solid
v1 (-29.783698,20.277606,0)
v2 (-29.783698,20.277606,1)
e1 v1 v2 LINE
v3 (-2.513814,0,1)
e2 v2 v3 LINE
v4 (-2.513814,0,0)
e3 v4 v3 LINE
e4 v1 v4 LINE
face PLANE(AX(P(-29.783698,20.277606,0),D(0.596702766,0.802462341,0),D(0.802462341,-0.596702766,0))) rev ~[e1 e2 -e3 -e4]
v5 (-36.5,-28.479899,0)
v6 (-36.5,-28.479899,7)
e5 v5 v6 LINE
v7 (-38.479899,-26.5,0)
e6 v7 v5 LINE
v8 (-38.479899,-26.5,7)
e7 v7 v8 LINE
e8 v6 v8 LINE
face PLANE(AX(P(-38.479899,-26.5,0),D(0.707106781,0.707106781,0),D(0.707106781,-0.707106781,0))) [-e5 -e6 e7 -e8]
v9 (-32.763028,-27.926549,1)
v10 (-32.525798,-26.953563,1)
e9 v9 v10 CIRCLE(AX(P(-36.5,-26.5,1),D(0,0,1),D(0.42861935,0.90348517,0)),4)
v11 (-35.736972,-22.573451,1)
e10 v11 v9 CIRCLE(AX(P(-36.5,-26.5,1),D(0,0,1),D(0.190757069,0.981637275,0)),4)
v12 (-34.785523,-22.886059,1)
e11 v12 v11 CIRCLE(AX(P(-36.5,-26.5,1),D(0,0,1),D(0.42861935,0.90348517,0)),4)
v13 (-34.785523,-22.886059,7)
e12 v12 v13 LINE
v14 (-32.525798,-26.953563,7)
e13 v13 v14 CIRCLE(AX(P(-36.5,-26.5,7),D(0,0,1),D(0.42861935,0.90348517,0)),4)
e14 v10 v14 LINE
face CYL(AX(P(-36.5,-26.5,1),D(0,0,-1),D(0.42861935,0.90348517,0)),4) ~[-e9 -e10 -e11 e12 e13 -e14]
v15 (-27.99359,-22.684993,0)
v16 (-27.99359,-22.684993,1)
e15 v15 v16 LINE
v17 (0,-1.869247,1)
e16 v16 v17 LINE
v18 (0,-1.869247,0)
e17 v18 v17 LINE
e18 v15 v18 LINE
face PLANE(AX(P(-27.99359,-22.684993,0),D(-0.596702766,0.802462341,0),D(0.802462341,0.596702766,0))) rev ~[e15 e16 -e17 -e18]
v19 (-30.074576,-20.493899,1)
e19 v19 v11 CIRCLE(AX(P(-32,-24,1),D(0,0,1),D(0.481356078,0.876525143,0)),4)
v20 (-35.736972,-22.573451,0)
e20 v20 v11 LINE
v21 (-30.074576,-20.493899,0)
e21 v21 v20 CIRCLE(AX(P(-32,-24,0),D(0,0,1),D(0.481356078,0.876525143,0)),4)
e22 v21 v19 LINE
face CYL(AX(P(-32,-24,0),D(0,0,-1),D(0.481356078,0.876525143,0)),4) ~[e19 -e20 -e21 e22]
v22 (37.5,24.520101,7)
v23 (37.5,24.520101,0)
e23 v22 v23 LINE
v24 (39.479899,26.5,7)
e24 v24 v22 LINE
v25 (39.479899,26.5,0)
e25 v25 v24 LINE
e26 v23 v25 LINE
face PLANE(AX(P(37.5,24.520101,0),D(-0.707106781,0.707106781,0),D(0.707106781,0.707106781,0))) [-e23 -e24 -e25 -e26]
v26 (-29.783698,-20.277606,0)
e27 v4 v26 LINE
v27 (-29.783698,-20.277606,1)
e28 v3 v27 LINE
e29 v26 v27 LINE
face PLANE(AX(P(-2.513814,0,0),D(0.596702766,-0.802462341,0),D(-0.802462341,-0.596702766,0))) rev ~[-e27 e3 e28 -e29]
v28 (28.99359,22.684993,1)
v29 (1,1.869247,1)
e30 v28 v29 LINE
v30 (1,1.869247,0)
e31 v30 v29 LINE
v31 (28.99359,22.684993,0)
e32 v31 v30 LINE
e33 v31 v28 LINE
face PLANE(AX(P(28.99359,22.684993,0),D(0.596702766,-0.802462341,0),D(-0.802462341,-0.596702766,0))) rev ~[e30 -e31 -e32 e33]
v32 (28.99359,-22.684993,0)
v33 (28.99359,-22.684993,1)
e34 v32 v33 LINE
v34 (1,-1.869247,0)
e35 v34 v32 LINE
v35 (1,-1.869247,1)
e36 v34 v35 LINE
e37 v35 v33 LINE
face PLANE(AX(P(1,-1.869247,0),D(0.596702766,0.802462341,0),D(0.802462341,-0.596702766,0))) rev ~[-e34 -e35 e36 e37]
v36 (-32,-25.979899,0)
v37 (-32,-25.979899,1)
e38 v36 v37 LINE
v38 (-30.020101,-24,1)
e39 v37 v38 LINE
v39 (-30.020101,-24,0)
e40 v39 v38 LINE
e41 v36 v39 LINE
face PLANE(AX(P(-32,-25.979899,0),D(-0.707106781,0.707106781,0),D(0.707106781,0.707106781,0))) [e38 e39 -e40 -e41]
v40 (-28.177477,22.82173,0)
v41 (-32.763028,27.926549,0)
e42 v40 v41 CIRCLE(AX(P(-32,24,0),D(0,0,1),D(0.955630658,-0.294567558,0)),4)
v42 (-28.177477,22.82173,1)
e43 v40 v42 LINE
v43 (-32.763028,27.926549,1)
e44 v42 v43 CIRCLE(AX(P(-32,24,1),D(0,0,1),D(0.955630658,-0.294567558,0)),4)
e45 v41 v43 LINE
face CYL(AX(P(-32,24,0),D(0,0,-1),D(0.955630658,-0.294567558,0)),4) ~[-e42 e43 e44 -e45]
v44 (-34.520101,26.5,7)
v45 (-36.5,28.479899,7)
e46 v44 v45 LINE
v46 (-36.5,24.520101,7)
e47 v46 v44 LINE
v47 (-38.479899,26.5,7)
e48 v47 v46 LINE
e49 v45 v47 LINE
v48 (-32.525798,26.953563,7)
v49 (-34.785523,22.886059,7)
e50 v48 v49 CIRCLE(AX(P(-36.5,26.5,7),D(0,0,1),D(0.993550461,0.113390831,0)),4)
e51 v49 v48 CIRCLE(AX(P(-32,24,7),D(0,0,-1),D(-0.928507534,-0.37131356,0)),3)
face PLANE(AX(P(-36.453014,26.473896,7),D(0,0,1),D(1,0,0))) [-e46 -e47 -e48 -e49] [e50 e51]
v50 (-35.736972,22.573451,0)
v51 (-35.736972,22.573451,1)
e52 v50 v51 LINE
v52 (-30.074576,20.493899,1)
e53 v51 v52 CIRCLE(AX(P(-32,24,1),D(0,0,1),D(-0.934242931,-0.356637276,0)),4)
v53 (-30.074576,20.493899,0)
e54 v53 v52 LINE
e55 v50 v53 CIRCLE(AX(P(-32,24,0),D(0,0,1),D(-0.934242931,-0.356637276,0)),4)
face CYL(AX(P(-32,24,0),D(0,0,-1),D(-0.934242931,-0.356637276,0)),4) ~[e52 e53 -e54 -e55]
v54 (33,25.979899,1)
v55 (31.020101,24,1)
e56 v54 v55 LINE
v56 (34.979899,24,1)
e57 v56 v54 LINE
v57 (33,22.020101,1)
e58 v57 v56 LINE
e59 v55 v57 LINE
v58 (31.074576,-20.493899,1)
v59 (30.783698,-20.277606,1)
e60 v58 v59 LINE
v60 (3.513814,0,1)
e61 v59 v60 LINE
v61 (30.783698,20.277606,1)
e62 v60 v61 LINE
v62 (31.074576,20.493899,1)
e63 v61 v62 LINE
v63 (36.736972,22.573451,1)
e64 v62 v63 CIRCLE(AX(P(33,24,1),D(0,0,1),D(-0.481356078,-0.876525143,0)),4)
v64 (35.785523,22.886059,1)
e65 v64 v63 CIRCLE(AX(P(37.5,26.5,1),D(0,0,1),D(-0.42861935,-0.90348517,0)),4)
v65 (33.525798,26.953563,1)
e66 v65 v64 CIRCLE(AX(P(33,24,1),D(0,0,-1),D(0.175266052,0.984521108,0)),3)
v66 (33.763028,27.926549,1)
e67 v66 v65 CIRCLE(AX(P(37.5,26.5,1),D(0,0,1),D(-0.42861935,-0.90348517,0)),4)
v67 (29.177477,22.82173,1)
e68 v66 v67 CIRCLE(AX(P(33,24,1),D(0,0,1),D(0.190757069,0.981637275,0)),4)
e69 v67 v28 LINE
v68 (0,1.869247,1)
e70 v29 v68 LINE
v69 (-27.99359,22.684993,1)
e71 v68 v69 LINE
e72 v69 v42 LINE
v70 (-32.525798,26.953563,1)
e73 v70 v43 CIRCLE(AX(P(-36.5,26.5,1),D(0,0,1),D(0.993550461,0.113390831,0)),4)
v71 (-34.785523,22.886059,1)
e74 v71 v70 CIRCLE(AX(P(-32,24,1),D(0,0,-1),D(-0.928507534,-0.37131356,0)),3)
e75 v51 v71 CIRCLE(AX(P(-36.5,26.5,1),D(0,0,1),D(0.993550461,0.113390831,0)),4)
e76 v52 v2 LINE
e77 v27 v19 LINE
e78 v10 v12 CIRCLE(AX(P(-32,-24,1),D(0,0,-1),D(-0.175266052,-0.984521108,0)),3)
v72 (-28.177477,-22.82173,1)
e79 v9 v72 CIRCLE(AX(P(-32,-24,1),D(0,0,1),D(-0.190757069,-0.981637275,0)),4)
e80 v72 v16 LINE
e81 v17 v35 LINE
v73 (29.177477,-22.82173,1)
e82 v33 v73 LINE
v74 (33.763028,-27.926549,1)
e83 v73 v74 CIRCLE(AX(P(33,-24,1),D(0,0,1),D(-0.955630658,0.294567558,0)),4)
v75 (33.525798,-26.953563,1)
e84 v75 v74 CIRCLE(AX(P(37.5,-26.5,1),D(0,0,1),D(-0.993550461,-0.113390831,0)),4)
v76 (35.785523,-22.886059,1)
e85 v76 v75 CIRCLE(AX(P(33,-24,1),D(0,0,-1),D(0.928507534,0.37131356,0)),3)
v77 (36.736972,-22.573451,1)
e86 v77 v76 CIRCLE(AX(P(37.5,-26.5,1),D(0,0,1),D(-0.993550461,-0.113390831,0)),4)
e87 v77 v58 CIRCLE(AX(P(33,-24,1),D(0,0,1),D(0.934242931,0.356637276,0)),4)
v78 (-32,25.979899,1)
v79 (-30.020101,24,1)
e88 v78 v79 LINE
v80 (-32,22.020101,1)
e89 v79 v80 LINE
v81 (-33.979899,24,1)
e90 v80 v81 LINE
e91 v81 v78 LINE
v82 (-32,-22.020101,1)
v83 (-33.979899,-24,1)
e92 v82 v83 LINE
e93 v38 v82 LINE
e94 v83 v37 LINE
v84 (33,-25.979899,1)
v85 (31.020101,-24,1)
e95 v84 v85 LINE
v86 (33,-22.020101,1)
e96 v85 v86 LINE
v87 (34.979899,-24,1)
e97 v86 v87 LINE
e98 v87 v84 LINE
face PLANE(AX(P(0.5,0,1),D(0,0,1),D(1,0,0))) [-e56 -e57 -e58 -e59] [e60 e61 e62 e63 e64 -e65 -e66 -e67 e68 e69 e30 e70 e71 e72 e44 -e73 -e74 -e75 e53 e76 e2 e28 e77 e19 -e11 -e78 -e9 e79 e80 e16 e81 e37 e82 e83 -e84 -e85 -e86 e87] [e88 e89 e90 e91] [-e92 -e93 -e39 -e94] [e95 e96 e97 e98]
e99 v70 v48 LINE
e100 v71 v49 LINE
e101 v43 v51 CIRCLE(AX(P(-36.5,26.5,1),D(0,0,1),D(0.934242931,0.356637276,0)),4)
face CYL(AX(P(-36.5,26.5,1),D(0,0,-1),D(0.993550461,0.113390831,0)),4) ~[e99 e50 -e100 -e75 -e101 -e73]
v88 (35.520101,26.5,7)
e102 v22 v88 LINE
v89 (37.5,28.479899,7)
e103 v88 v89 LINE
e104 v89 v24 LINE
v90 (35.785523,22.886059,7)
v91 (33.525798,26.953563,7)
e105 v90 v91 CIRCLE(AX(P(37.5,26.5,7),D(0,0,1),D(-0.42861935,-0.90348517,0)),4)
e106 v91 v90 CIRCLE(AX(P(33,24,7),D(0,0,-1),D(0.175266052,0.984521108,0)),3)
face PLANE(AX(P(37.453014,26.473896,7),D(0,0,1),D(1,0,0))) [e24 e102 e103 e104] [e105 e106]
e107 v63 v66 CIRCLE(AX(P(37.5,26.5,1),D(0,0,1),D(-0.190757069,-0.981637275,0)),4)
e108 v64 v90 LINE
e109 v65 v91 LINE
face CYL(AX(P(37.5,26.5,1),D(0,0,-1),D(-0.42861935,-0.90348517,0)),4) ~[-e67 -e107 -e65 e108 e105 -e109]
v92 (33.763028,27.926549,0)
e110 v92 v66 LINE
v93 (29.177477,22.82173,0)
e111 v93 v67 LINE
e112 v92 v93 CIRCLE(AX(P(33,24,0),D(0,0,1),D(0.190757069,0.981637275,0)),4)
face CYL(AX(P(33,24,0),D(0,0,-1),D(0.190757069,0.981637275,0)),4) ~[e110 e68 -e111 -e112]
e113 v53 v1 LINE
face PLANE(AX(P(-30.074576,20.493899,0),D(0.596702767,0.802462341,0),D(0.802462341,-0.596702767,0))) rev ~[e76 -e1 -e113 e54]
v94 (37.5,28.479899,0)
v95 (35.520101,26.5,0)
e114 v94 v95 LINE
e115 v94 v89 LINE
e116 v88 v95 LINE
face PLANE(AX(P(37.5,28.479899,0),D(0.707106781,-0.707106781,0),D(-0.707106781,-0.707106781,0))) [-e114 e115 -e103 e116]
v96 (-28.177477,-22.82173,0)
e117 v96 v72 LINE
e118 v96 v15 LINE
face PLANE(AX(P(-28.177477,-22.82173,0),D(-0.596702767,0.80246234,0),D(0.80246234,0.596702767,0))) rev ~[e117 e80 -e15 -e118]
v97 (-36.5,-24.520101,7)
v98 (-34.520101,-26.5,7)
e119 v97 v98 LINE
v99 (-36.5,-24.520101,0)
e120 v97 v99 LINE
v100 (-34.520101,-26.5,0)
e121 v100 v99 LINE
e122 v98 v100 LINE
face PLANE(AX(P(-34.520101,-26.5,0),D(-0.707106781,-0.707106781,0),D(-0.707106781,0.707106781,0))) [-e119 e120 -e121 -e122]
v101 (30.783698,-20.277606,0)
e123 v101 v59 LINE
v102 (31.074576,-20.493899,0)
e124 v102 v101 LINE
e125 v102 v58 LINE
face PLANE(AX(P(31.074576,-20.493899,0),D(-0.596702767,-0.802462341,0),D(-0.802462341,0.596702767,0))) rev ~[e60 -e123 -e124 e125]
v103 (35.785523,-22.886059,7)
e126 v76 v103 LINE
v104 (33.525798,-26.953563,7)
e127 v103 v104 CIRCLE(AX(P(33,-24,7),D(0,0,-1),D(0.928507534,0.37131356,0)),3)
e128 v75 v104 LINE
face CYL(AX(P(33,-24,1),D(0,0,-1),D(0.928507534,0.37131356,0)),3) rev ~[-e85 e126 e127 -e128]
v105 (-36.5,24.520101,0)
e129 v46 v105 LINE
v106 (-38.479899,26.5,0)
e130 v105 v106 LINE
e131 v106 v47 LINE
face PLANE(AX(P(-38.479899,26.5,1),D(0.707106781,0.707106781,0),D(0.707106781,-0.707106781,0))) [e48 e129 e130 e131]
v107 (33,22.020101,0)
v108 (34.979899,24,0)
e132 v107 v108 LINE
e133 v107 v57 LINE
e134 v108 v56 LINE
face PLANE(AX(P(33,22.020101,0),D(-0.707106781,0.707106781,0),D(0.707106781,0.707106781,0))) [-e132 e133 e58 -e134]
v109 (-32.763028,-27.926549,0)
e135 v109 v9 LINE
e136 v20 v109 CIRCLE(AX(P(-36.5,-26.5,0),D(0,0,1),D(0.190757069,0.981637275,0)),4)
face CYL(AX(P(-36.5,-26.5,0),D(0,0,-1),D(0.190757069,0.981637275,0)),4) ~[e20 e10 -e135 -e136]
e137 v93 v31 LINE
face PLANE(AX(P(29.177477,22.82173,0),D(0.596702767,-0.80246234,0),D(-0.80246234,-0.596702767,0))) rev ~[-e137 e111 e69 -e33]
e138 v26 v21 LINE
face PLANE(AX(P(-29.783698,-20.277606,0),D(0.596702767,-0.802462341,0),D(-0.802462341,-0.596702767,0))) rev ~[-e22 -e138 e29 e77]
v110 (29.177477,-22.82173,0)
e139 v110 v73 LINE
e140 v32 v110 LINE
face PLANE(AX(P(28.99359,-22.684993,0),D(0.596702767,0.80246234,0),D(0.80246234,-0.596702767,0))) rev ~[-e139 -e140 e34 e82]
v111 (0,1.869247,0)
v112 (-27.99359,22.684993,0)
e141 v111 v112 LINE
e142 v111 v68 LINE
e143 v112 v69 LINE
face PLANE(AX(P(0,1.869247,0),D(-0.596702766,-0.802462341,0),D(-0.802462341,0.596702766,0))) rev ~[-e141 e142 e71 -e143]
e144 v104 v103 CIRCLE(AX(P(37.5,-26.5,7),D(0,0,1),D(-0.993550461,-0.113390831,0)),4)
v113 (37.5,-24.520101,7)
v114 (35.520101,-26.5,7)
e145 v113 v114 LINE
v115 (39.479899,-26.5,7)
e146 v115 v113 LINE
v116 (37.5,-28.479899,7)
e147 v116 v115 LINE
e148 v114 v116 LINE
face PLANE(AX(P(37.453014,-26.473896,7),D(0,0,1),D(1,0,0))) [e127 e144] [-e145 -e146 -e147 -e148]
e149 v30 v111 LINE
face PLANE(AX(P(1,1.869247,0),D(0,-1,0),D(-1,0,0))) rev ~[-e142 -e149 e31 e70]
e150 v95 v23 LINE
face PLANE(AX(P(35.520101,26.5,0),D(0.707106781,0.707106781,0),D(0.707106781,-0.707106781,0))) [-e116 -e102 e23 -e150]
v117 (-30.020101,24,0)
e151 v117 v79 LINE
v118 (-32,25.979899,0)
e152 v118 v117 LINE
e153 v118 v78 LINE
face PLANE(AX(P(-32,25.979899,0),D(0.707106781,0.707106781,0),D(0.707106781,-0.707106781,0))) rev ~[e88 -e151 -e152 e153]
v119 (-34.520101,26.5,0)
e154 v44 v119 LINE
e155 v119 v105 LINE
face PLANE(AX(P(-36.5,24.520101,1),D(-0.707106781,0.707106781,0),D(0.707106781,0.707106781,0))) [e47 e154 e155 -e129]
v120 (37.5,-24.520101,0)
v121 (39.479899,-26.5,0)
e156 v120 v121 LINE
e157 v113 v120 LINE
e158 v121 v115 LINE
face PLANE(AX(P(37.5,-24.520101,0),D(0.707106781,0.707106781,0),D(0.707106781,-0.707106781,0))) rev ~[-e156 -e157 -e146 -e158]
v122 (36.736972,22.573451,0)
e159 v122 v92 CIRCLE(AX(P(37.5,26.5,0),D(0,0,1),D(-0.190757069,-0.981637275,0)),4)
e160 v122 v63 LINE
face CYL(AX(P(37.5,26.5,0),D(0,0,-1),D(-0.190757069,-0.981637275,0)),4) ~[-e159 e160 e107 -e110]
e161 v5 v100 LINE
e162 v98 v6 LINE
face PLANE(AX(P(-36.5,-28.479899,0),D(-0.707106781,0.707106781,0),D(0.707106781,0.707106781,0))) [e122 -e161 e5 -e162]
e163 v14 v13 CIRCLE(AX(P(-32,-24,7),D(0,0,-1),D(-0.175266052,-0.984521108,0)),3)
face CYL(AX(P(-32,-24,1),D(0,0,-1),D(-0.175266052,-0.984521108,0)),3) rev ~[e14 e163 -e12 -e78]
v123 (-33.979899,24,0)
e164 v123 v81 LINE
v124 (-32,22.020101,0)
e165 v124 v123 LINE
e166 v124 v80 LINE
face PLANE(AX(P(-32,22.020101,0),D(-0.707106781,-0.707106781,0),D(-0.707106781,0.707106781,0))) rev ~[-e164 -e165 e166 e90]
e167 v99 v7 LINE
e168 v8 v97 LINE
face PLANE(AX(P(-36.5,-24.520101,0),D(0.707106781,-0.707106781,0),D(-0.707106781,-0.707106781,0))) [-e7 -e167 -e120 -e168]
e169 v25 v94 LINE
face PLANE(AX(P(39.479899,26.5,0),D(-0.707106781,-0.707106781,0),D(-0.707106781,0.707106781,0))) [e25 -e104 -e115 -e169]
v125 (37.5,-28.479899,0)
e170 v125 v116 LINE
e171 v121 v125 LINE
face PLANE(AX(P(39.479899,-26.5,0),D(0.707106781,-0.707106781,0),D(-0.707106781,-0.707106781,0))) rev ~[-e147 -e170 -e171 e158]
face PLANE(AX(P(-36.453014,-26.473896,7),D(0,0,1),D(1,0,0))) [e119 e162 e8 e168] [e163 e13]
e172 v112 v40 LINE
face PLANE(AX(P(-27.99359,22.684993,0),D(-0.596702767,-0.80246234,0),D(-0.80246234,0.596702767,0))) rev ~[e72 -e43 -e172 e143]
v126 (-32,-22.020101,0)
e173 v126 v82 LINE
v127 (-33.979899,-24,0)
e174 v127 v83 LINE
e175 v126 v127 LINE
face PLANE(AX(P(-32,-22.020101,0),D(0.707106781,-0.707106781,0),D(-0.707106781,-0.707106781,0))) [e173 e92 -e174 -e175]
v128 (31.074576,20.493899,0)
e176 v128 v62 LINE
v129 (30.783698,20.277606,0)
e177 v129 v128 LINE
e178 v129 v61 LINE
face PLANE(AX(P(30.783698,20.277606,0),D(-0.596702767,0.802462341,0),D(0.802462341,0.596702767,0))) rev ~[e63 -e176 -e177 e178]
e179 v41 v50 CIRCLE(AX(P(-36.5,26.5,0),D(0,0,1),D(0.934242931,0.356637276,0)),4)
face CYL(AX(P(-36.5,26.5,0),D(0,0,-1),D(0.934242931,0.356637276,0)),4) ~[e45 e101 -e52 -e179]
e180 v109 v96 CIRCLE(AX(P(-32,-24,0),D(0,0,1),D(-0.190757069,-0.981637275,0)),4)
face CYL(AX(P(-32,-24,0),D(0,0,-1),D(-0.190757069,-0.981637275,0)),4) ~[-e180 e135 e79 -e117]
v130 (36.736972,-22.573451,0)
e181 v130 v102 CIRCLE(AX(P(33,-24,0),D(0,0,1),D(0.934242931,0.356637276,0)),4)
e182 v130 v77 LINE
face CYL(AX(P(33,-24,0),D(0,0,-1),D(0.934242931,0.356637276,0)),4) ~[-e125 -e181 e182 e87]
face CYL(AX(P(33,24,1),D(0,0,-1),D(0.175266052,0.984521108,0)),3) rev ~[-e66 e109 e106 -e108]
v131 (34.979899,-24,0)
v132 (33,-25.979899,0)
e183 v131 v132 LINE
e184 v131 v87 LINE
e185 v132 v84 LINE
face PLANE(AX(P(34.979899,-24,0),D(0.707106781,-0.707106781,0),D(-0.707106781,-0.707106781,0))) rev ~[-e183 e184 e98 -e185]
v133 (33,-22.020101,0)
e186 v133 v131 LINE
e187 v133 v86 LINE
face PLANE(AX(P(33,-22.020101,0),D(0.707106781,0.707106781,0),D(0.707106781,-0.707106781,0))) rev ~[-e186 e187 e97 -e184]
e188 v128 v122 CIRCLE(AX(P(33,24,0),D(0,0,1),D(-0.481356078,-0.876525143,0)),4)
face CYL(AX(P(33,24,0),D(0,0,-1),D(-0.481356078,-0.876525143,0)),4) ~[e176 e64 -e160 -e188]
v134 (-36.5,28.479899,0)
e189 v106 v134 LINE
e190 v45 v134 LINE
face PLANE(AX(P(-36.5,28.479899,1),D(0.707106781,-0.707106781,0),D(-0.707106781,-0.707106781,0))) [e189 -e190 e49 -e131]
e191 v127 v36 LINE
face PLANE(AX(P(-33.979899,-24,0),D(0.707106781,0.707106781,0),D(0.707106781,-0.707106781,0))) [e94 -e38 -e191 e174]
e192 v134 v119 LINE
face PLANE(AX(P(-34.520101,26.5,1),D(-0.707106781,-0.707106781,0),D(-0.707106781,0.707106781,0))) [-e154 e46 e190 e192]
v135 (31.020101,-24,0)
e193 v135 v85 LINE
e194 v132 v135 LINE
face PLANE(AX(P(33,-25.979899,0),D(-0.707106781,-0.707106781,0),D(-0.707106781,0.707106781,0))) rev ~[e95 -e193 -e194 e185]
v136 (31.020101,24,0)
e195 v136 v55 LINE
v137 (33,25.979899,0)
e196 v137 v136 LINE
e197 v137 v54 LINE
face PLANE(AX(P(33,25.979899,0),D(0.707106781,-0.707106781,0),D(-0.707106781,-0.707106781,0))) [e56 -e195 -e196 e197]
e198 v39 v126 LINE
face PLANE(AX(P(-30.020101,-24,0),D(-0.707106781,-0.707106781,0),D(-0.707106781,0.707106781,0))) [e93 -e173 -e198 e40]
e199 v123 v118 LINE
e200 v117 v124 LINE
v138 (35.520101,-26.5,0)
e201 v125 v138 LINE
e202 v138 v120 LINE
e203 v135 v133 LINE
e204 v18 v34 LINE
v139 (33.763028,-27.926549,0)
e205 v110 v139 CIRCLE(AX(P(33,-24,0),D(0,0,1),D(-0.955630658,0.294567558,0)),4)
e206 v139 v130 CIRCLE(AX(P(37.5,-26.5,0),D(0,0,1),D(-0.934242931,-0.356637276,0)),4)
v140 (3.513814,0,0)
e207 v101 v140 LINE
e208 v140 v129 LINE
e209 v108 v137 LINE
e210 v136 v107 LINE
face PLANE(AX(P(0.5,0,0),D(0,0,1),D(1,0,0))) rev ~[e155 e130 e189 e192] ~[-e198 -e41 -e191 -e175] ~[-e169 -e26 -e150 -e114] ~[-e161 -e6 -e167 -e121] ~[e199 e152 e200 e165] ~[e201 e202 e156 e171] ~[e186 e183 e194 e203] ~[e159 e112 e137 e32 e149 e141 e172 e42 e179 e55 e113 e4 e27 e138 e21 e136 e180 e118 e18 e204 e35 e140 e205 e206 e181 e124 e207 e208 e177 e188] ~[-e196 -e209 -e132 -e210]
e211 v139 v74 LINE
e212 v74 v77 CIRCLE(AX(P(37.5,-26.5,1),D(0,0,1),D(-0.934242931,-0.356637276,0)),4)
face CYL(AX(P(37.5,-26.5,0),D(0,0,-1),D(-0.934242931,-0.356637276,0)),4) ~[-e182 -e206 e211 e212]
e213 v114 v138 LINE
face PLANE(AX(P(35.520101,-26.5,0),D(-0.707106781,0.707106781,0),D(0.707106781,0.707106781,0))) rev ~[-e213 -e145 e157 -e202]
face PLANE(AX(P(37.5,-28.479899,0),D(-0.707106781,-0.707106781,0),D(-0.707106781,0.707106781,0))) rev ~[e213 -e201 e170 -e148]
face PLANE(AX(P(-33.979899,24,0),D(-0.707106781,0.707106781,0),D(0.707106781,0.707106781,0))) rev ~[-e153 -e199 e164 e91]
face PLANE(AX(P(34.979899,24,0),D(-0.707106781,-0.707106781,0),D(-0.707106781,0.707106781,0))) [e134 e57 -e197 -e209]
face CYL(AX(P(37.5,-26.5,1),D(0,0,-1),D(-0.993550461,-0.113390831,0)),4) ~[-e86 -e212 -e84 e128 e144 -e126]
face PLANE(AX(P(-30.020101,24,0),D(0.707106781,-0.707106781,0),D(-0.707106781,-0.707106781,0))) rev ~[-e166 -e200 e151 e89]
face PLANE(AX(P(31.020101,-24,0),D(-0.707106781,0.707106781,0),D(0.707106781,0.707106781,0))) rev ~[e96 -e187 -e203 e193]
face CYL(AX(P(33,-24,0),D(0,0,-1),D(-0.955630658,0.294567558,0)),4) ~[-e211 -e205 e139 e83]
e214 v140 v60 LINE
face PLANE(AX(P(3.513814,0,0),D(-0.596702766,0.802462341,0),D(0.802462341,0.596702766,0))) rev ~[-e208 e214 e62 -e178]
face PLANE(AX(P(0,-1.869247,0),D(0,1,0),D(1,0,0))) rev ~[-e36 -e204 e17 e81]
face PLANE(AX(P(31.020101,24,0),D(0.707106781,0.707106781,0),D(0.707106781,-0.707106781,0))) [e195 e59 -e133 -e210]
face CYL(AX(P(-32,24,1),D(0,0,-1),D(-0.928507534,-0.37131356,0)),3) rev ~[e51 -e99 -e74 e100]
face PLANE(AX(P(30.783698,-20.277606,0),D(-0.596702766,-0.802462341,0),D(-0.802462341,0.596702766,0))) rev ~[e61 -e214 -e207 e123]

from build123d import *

# Parameters (mm, degrees)
RESSALTO_EXTRUS_O1_DEPTH = 1
RESSALTO_EXTRUS_O3_DEPTH = 6


with BuildPart() as part:
    # Esboço1 → Ressalto-extrusão1 (new body)
    with BuildSketch(Plane.XY):
        with BuildLine():
            Line((0, 1.869246597), (-27.993590125, 22.6849931))
            Line((-27.993590125, 22.6849931), (-28.177477369, 22.821729769))
            ThreePointArc((-28.177477369, 22.821729769), (-29.024277982, 26.673027959), (-32.763028277, 27.926549102))
            ThreePointArc((-32.763028277, 27.926549102), (-39.996629104, 28.442571725), (-35.736971723, 22.573450898))
            ThreePointArc((-35.736971723, 22.573450898), (-33.37897048, 20.245211003), (-30.074575689, 20.493899428))
            Line((-30.074575689, 20.493899428), (-29.783698424, 20.277606077))
            Line((-29.783698424, 20.277606077), (-2.513814389, 0))
            Line((-2.513814389, 0), (-29.783698424, -20.277606077))
            Line((-29.783698424, -20.277606077), (-30.074575689, -20.493899428))
            ThreePointArc((-30.074575689, -20.493899428), (-33.37897048, -20.245211003), (-35.736971723, -22.573450898))
            ThreePointArc((-35.736971723, -22.573450898), (-39.996629104, -28.442571725), (-32.763028277, -27.926549102))
            ThreePointArc((-32.763028277, -27.926549102), (-29.024277982, -26.673027959), (-28.177477369, -22.821729769))
            Line((-28.177477369, -22.821729769), (-27.993590125, -22.6849931))
            Line((-27.993590125, -22.6849931), (0, -1.869246597))
            Line((0, -1.869246597), (1, -1.869246597))
            Line((1, -1.869246597), (28.993590125, -22.6849931))
            Line((28.993590125, -22.6849931), (29.177477369, -22.821729769))
            ThreePointArc((29.177477369, -22.821729769), (30.024277982, -26.673027959), (33.763028277, -27.926549102))
            ThreePointArc((33.763028277, -27.926549102), (40.996629104, -28.442571725), (36.736971723, -22.573450898))
            ThreePointArc((36.736971723, -22.573450898), (34.37897048, -20.245211003), (31.074575689, -20.493899428))
            Line((31.074575689, -20.493899428), (30.783698424, -20.277606077))
            Line((30.783698424, -20.277606077), (3.513814389, 0))
            Line((3.513814389, 0), (30.783698424, 20.277606077))
            Line((30.783698424, 20.277606077), (31.074575689, 20.493899428))
            ThreePointArc((31.074575689, 20.493899428), (34.37897048, 20.245211003), (36.736971723, 22.573450898))
            ThreePointArc((36.736971723, 22.573450898), (40.996629104, 28.442571725), (33.763028277, 27.926549102))
            ThreePointArc((33.763028277, 27.926549102), (30.024277982, 26.673027959), (29.177477369, 22.821729769))
            Line((29.177477369, 22.821729769), (28.993590125, 22.6849931))
            Line((28.993590125, 22.6849931), (1, 1.869246597))
            Line((1, 1.869246597), (0, 1.869246597))
        make_face()
        Polygon((-38.479898987, 26.5), (-36.5, 28.479898987), (-34.520101013, 26.5), (-36.5, 24.520101013), align=None, mode=Mode.SUBTRACT)
        Polygon((-33.979898987, 24), (-32, 25.979898987), (-30.020101013, 24), (-32, 22.020101013), align=None, mode=Mode.SUBTRACT)
        Polygon((-36.5, -28.479898987), (-34.520101013, -26.5), (-36.5, -24.520101013), (-38.479898987, -26.5), align=None, mode=Mode.SUBTRACT)
        Polygon((-32, -25.979898987), (-30.020101013, -24), (-32, -22.020101013), (-33.979898987, -24), align=None, mode=Mode.SUBTRACT)
        Polygon((39.479898987, -26.5), (37.5, -28.479898987), (35.520101013, -26.5), (37.5, -24.520101013), align=None, mode=Mode.SUBTRACT)
        Polygon((34.979898987, -24), (33, -25.979898987), (31.020101013, -24), (33, -22.020101013), align=None, mode=Mode.SUBTRACT)
        Polygon((37.5, 28.479898987), (35.520101013, 26.5), (37.5, 24.520101013), (39.479898987, 26.5), align=None, mode=Mode.SUBTRACT)
        Polygon((33, 25.979898987), (31.020101013, 24), (33, 22.020101013), (34.979898987, 24), align=None, mode=Mode.SUBTRACT)
    extrude(amount=RESSALTO_EXTRUS_O1_DEPTH)

    # Esboço3 → Ressalto-extrusão3 (add)
    # profile 1 of 4: a face of its own
    with BuildSketch(Plane.XY.offset(1)):
        with BuildLine():
            ThreePointArc((-32.525798154, 26.953563323), (-39.996629104, 28.442571725), (-34.785522601, 22.886059319))
            ThreePointArc((-34.785522601, 22.886059319), (-34.622471828, 25.456928794), (-32.525798154, 26.953563323))
        make_face()
        Polygon((-38.479898987, 26.5), (-36.5, 24.520101013), (-34.520101013, 26.5), (-36.5, 28.479898987), align=None, mode=Mode.SUBTRACT)
    # profile 2 of 4: a face of its own
    with BuildSketch(Plane.XY.offset(1)):
        with BuildLine():
            ThreePointArc((-32.525798154, -26.953563323), (-34.622471828, -25.456928794), (-34.785522601, -22.886059319))
            ThreePointArc((-34.785522601, -22.886059319), (-39.996629104, -28.442571725), (-32.525798154, -26.953563323))
        make_face()
        Polygon((-36.5, -24.520101013), (-34.520101013, -26.5), (-36.5, -28.479898987), (-38.479898987, -26.5), align=None, mode=Mode.SUBTRACT)
    # profile 3 of 4: a face of its own
    with BuildSketch(Plane.XY.offset(1)):
        with BuildLine():
            ThreePointArc((33.525798154, -26.953563323), (40.996629104, -28.442571725), (35.785522601, -22.886059319))
            ThreePointArc((35.785522601, -22.886059319), (35.622471828, -25.456928794), (33.525798154, -26.953563323))
        make_face()
        Polygon((39.479898987, -26.5), (37.5, -24.520101013), (35.520101013, -26.5), (37.5, -28.479898987), align=None, mode=Mode.SUBTRACT)
    # profile 4 of 4: a face of its own
    with BuildSketch(Plane.XY.offset(1)):
        with BuildLine():
            ThreePointArc((33.525798154, 26.953563323), (35.622471828, 25.456928794), (35.785522601, 22.886059319))
            ThreePointArc((35.785522601, 22.886059319), (40.996629104, 28.442571725), (33.525798154, 26.953563323))
        make_face()
        Polygon((37.5, 24.520101013), (35.520101013, 26.5), (37.5, 28.479898987), (39.479898987, 26.5), align=None, mode=Mode.SUBTRACT)
    extrude(amount=RESSALTO_EXTRUS_O3_DEPTH)


solid = part.part
